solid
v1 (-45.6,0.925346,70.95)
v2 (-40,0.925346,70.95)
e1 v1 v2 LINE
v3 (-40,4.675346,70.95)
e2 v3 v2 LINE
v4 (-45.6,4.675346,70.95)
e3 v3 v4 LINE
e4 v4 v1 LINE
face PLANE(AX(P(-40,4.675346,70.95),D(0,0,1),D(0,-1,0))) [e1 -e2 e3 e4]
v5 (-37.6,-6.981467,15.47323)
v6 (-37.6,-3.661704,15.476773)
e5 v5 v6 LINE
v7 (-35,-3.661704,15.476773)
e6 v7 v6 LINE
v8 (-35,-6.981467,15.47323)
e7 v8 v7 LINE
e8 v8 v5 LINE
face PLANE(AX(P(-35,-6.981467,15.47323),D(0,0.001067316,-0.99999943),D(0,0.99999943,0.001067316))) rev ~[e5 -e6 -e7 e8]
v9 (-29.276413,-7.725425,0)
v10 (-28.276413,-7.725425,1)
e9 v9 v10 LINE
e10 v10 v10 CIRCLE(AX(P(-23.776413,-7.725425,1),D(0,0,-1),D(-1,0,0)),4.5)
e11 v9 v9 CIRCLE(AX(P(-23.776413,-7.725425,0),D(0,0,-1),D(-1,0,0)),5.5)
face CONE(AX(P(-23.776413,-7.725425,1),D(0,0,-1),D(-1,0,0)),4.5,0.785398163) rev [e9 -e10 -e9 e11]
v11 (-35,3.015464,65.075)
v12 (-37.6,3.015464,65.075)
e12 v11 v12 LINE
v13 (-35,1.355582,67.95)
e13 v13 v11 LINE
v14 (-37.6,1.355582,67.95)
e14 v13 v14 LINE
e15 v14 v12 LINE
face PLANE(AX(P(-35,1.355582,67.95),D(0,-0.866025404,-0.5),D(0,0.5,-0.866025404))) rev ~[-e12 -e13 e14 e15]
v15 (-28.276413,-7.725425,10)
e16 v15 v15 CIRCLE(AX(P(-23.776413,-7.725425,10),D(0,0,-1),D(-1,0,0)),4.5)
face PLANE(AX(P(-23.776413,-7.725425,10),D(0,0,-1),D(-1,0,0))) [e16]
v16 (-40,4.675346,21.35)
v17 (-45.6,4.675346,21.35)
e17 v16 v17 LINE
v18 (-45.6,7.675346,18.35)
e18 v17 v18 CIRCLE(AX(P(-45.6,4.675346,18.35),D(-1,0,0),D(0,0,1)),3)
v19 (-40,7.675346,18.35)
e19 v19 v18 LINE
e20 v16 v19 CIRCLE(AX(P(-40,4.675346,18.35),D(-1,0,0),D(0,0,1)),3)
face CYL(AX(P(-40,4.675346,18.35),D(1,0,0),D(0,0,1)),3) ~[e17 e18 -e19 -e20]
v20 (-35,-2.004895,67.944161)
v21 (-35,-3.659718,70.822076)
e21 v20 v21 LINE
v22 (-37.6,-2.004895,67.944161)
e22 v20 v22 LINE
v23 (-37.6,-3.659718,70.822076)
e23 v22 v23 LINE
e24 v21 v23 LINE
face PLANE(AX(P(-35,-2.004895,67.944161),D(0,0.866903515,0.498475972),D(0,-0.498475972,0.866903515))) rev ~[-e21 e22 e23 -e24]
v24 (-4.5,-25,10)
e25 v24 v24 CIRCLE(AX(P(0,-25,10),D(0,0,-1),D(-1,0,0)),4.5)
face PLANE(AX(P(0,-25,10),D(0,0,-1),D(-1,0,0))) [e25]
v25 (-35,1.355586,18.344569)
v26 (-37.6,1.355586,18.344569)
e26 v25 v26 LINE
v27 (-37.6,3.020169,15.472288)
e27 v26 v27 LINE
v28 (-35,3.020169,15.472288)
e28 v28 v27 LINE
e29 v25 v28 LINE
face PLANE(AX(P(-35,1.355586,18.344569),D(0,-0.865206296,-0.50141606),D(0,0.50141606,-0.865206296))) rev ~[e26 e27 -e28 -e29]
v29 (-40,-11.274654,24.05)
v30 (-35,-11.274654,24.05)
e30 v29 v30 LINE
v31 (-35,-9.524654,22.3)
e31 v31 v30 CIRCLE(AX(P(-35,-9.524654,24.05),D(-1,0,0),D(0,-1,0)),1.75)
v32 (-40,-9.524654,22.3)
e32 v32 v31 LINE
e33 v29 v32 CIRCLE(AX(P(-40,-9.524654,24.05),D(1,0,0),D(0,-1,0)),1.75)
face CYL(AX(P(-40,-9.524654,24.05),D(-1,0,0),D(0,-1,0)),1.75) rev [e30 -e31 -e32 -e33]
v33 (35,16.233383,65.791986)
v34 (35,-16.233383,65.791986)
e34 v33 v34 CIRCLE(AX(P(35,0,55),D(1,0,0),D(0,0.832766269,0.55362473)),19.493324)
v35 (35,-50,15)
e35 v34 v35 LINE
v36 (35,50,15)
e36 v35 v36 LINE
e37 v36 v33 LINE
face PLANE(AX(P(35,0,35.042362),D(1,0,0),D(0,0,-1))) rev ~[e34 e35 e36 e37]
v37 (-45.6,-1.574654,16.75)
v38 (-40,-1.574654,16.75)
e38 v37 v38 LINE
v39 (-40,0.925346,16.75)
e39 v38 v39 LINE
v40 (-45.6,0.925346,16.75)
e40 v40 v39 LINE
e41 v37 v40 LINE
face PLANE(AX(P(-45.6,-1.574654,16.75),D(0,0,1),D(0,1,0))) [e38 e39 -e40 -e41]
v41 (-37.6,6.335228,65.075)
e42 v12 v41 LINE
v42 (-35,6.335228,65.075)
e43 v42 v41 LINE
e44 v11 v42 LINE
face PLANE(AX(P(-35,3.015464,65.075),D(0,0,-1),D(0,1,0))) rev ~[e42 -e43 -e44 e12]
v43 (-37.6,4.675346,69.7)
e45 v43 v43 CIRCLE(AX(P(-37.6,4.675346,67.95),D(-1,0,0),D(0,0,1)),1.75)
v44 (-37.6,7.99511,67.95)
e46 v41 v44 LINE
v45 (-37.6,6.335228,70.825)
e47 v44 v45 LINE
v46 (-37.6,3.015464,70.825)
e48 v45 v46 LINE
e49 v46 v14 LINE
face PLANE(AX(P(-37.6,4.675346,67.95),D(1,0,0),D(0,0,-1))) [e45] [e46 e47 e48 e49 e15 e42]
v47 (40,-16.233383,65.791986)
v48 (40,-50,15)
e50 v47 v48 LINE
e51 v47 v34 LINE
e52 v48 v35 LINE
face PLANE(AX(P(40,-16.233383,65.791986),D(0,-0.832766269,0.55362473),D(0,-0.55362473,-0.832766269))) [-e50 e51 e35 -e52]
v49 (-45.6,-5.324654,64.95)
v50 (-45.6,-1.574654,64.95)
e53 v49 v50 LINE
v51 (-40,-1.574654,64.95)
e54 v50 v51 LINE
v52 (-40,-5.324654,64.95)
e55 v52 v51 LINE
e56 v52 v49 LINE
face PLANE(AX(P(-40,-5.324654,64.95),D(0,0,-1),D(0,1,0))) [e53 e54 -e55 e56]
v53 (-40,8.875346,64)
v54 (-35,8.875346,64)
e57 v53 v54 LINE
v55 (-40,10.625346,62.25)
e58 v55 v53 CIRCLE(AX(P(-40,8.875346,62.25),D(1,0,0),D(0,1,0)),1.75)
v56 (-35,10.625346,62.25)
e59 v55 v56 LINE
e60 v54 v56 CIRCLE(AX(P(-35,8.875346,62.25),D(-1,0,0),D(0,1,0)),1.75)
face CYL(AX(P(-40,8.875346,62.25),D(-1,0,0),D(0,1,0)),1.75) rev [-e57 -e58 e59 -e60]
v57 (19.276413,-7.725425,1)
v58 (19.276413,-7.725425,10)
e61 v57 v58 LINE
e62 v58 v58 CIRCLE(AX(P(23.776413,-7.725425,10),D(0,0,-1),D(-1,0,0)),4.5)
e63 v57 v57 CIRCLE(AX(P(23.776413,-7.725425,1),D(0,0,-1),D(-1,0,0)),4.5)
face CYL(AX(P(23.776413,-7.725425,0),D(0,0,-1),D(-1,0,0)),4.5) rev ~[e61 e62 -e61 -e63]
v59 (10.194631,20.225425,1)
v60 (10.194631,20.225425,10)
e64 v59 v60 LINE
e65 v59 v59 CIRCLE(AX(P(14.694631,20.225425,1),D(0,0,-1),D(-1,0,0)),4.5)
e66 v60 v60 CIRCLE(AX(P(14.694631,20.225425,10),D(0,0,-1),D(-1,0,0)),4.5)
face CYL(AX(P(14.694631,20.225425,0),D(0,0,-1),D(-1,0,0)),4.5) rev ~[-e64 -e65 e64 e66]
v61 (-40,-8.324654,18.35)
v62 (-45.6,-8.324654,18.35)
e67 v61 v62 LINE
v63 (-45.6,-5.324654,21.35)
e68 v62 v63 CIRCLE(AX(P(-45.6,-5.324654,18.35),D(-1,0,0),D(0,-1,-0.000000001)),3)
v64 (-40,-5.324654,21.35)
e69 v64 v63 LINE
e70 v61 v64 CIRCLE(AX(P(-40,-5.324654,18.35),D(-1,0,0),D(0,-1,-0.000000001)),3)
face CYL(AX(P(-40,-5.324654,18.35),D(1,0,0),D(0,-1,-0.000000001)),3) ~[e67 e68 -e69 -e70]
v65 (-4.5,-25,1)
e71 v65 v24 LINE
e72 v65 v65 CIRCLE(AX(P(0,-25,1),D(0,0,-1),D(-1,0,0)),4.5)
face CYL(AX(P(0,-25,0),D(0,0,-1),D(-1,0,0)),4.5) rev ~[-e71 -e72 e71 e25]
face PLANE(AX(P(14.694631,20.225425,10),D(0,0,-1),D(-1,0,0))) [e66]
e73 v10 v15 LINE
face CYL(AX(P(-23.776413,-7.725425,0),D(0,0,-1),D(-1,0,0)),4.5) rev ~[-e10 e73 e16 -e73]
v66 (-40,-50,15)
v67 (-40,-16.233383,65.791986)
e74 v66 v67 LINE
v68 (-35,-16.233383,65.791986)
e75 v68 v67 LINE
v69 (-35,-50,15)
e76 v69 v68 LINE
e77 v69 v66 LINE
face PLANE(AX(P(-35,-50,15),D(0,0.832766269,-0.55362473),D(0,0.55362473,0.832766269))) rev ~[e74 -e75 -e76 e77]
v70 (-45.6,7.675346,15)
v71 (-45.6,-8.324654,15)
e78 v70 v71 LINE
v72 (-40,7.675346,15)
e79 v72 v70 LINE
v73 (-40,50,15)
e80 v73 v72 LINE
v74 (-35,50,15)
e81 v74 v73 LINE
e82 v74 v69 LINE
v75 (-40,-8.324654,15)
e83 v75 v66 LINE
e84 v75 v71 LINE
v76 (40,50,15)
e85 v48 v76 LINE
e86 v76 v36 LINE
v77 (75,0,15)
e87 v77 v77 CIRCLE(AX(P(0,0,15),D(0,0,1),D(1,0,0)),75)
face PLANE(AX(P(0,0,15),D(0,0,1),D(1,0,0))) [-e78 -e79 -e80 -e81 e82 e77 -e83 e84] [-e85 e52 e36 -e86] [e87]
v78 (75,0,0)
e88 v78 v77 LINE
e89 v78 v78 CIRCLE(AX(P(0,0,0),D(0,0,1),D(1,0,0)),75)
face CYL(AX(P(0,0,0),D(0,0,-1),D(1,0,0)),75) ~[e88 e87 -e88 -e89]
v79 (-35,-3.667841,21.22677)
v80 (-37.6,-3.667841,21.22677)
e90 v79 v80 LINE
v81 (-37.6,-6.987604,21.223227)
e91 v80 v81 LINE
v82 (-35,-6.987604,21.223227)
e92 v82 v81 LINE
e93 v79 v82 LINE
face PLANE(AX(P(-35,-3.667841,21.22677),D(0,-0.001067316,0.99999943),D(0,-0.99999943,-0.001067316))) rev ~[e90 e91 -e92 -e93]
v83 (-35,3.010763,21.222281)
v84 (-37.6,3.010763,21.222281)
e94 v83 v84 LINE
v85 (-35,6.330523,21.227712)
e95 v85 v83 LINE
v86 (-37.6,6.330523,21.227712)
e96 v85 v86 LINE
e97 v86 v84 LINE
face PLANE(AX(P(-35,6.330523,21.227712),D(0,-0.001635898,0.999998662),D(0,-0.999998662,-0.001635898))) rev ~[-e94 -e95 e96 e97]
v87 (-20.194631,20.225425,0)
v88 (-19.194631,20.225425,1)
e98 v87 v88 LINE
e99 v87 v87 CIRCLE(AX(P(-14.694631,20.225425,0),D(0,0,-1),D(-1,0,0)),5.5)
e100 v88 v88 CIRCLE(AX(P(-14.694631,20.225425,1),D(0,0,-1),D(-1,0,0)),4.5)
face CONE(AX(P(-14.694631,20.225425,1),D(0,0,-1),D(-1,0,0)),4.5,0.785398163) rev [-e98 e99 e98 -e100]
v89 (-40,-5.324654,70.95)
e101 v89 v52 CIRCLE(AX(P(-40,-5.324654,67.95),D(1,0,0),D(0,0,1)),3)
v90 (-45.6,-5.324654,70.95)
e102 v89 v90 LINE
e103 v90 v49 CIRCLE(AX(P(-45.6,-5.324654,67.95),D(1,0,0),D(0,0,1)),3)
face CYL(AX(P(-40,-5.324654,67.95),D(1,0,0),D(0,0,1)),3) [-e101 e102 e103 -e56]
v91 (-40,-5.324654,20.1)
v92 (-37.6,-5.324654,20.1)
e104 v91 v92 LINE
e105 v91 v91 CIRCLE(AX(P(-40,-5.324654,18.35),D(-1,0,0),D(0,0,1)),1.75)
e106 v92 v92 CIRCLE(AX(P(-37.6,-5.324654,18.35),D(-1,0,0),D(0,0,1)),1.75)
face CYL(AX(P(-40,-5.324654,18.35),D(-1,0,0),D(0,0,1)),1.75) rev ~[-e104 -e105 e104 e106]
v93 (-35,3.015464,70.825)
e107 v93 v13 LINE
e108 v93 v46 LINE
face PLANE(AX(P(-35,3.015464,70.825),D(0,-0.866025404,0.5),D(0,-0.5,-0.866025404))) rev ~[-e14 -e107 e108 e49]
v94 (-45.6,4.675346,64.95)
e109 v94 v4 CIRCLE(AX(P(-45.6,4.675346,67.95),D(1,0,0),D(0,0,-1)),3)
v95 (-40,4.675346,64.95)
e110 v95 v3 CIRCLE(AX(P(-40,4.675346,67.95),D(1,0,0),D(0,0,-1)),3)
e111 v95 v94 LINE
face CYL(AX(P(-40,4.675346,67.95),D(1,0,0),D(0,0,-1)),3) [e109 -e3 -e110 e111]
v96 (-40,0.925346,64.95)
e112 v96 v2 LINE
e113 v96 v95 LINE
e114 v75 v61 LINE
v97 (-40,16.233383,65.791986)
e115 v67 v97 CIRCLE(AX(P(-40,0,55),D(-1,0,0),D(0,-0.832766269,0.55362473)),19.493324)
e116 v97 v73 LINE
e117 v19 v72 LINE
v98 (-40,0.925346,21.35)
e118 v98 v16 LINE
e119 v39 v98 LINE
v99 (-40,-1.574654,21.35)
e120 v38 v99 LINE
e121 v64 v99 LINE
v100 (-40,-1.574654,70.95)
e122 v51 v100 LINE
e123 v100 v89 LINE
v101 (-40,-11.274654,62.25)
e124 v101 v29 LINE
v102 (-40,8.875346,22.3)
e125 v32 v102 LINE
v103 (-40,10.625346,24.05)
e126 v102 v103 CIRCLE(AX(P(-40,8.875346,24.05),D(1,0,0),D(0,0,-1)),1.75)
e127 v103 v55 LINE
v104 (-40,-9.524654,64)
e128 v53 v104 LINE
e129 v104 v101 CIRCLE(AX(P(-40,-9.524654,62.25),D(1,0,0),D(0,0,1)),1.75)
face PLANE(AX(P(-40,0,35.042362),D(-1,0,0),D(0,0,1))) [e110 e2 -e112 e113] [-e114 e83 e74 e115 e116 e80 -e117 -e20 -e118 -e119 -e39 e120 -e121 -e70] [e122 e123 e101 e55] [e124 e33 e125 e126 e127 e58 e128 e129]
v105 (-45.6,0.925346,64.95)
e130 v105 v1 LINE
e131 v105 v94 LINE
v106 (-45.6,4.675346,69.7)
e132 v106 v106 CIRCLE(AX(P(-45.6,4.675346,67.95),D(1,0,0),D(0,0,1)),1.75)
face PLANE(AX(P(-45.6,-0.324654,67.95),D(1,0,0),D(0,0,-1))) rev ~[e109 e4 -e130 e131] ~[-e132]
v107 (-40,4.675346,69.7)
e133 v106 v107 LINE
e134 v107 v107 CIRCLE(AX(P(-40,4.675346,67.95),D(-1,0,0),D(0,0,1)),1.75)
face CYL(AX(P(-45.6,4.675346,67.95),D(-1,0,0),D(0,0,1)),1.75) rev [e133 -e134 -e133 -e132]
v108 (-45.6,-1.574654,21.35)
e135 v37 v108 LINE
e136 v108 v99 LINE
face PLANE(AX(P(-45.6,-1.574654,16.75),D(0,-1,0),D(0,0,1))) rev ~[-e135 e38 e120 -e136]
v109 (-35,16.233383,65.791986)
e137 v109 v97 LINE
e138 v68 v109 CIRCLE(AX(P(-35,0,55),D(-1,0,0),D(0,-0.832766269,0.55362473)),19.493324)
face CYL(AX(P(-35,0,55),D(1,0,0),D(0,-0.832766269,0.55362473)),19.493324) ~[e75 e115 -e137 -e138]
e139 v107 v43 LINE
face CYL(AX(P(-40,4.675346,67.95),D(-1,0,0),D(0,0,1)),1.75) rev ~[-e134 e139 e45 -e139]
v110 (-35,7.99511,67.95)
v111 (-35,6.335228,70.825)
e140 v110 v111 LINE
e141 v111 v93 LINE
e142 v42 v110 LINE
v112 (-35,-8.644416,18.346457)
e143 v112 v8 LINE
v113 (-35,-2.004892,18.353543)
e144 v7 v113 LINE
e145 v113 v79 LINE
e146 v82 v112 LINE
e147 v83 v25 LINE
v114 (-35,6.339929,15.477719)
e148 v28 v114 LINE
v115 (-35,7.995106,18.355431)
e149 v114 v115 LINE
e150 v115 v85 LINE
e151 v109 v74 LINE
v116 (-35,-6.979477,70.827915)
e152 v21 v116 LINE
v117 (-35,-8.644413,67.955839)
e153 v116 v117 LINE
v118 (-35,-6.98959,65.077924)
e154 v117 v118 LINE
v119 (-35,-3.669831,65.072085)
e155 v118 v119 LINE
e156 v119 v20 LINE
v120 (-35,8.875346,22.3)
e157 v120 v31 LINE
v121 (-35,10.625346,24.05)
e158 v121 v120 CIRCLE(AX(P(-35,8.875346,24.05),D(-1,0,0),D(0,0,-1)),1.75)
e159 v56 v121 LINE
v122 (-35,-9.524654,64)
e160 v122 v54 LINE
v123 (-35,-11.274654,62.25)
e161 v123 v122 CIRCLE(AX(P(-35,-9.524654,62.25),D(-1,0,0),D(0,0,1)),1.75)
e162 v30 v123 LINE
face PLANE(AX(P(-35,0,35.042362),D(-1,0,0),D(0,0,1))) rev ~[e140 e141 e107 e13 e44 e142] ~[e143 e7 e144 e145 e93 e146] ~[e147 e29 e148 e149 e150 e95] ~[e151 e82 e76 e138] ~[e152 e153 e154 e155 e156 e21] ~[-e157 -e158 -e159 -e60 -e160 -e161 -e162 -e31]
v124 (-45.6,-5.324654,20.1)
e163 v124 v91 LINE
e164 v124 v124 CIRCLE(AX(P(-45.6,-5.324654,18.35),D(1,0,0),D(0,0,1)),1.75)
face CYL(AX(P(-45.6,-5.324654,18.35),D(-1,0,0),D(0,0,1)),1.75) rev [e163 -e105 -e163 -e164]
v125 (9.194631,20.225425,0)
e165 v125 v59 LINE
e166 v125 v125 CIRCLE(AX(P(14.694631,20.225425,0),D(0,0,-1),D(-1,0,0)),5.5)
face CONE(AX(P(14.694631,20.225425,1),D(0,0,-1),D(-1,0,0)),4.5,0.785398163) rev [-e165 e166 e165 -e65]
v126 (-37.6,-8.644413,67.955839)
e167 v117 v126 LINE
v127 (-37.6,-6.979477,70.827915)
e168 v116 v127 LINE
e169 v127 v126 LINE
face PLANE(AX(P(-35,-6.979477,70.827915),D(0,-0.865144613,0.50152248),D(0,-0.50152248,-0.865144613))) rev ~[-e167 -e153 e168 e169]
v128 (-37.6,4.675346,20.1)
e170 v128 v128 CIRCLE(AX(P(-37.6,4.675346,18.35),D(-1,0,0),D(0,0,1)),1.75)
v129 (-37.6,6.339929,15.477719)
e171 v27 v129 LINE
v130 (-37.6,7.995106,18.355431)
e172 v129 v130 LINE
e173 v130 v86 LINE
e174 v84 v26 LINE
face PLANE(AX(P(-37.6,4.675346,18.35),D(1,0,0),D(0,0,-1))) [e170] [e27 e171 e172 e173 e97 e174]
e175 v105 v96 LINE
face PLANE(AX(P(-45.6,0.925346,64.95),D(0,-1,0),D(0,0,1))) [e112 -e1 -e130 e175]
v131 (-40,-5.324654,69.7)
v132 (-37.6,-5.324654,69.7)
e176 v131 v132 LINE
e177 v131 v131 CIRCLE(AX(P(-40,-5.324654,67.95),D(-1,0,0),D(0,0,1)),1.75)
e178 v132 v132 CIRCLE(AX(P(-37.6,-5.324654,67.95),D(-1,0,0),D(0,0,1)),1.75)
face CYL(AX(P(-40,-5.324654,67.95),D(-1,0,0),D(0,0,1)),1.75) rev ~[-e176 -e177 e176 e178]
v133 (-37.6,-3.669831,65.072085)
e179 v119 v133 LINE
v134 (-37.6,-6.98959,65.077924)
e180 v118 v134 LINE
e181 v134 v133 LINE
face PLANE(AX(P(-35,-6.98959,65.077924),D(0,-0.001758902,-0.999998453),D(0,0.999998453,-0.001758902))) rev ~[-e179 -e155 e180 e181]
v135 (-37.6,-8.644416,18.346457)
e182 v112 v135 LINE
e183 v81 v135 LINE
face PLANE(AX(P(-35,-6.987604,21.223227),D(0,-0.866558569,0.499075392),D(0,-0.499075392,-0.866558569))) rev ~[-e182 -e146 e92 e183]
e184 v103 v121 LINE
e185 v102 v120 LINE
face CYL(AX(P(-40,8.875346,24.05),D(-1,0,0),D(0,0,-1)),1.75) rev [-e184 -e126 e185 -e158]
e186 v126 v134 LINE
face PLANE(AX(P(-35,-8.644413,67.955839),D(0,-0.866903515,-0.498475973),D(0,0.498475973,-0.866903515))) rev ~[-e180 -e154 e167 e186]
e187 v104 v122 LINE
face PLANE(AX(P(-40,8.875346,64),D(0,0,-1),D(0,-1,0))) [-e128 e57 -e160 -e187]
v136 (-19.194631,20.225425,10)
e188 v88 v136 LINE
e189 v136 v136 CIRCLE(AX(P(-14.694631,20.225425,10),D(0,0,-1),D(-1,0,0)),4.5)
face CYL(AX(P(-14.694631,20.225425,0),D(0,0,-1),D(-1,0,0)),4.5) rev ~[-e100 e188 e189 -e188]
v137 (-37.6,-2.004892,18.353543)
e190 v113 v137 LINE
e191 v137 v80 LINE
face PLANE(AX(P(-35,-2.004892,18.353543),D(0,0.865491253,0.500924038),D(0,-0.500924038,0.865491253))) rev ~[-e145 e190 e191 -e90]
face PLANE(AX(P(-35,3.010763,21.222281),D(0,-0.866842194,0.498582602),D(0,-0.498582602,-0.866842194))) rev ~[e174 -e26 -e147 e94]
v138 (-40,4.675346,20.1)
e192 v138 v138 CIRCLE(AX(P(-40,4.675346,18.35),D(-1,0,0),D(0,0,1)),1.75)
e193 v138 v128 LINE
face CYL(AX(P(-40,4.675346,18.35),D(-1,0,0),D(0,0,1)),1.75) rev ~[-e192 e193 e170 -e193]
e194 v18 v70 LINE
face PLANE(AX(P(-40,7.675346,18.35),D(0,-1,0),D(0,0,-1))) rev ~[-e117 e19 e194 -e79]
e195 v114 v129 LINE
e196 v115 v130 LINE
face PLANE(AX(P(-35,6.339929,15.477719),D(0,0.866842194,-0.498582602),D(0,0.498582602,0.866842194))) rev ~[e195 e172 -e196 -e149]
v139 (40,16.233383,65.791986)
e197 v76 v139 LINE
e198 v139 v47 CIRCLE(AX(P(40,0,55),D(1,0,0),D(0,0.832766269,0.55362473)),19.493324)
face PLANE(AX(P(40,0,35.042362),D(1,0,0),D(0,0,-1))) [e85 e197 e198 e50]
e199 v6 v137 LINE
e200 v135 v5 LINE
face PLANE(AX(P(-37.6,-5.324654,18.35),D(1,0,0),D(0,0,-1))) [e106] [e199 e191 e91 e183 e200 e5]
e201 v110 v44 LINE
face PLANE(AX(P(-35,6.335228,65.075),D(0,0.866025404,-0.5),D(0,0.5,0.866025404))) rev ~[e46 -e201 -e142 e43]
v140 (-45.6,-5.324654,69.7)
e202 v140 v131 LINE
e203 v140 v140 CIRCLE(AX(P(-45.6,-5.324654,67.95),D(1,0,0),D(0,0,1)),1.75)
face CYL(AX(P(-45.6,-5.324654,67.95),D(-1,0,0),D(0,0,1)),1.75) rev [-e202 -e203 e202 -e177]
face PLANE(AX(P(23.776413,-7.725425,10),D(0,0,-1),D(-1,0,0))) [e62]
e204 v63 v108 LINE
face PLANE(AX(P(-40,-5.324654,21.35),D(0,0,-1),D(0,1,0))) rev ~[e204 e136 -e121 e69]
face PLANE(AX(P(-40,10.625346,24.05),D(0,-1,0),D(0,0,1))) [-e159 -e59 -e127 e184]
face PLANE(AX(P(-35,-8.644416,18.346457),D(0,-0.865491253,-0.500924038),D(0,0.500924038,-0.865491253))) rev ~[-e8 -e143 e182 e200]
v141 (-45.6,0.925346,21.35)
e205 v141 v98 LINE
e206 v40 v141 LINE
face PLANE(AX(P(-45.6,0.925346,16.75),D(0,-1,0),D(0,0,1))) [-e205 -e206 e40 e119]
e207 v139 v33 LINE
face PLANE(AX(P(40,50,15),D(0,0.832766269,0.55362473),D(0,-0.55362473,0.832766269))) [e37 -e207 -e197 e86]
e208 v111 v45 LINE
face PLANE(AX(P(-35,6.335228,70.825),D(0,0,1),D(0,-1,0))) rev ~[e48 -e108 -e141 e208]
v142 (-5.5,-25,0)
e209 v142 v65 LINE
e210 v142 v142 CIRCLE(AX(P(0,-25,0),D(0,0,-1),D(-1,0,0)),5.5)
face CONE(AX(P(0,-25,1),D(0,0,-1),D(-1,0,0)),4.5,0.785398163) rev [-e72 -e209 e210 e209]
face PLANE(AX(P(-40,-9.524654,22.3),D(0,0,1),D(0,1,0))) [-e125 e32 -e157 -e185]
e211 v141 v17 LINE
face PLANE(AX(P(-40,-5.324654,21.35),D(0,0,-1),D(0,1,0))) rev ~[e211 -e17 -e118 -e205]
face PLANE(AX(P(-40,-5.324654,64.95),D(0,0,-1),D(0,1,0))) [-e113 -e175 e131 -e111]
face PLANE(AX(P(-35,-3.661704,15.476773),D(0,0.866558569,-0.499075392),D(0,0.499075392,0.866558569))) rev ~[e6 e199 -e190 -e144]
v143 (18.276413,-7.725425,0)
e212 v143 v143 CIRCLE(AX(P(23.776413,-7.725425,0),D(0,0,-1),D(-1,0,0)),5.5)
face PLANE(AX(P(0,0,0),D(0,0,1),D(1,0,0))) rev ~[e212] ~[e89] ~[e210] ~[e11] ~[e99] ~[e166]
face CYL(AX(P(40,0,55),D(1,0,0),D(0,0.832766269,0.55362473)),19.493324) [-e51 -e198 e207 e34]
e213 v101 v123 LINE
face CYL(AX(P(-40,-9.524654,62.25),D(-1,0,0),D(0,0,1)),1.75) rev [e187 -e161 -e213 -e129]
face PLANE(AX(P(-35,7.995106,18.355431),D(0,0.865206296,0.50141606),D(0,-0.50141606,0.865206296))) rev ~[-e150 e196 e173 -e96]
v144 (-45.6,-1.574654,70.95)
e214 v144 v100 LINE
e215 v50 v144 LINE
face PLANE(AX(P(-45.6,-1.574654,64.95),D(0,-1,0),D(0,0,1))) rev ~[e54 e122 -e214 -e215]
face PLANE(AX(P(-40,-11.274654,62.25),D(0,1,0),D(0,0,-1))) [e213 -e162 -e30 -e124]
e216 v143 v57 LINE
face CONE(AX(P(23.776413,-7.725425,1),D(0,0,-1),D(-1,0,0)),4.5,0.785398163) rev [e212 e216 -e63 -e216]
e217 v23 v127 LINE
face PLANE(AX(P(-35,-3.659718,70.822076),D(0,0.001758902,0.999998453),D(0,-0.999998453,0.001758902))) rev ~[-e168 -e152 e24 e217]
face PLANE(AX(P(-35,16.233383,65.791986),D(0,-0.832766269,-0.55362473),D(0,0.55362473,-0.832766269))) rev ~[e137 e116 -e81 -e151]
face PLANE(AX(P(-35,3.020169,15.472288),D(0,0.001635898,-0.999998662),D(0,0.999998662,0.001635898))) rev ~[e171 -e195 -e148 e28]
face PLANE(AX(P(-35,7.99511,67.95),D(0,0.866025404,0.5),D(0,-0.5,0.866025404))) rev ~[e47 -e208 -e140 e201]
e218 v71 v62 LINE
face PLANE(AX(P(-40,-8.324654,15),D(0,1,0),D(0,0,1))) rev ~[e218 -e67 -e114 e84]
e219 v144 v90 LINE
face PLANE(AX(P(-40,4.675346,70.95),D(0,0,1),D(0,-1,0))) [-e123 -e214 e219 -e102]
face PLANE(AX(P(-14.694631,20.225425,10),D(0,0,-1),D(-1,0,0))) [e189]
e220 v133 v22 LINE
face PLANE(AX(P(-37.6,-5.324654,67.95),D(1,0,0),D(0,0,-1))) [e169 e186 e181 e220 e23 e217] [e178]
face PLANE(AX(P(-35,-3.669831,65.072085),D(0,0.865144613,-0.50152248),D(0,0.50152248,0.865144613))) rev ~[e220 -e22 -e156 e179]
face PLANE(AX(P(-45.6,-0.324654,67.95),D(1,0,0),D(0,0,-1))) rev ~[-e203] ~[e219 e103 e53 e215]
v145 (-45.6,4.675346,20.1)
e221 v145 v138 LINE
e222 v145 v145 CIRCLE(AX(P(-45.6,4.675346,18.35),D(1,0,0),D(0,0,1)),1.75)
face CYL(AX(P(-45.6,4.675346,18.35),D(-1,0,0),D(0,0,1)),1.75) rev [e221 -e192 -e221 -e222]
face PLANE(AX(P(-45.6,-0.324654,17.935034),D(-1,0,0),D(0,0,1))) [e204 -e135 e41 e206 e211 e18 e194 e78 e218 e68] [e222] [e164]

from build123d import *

# Parameters (mm, degrees)
SKETCH1_R           = 75
BASE_PLATE_DEPTH    = 15
SKETCH2_R           = 4.5
DRIVE_HOLES_DEPTH   = 10
CHAMFER1_SIZE       = 1
BASE_START          = 40
BASE_FIN_DEPTH      = 5
BASE_START_2        = 70
BASE_FIN_2_DEPTH    = 5
CUT_EXTRUDE1_REACH  = 158.203
CUT_EXTRUDE2_REACH  = 158.203
SKETCH7_R           = 1.75
BOSS_EXTRUDE1_DEPTH = 5.6
CUT_EXTRUDE3_START  = -5.6
SKETCH9_R           = 1.75
CUT_EXTRUDE3_DEPTH  = 5.6
SKETCH10_W          = 4.6
SKETCH10_H          = 2.5
SKETCH10_W_2        = 6
CUT_EXTRUDE4_DEPTH  = 5.6
CUT_EXTRUDE5_DEPTH  = 2.6


with BuildPart() as part:
    # Sketch1 → Base Plate (new body)
    with BuildSketch(Plane.XY):
        Circle(SKETCH1_R)
    extrude(amount=BASE_PLATE_DEPTH)

    # Sketch2 → Drive Holes (cut)
    with BuildSketch(Plane(origin=(0, 0, 0), x_dir=(-1, 0, 0), z_dir=(0, 0, -1))):
        with Locations((0, -25)):
            Circle(SKETCH2_R)
        with Locations((-23.776412907, -7.725424859)):
            Circle(SKETCH2_R)
        with Locations((-14.694631307, 20.225424859)):
            Circle(SKETCH2_R)
        with Locations((14.694631307, 20.225424859)):
            Circle(SKETCH2_R)
        with Locations((23.776412907, -7.725424859)):
            Circle(SKETCH2_R)
    extrude(amount=-DRIVE_HOLES_DEPTH, mode=Mode.SUBTRACT)

    # Chamfer1
    chamfer1_edges = [part.edges().sort_by_distance(p)[0] for p in [
        (28.276412907, -7.725424859, 0),
        (19.194631307, 20.225424859, 0),
        (-10.194631307, 20.225424859, 0),
        (-19.276412907, -7.725424859, 0),
        (4.5, -25, 0),
    ]]
    chamfer(chamfer1_edges, length=CHAMFER1_SIZE)

    # Sketch4 → Base Fin (add)
    with BuildSketch(Plane(origin=(0, 0, 0), x_dir=(0, 0, -1), z_dir=(1, 0, 0)).offset(BASE_START)):
        with BuildLine():
            Line((-15, 50), (-65.791986374, 16.233382914))
            ThreePointArc((-65.791986374, 16.233382914), (-74.493324261, 0), (-65.791986374, -16.233382914))
            Line((-65.791986374, -16.233382914), (-15, -50))
            Line((-15, -50), (-15, 50))
        make_face()
    extrude(amount=-BASE_FIN_DEPTH)

    # Sketch5 → Base Fin 2 (add)
    with BuildSketch(Plane.ZY.offset(-35).offset(BASE_START_2)):
        with BuildLine():
            Line((15, 50), (15, -50))
            Line((15, -50), (65.791986374, -16.233382914))
            ThreePointArc((65.791986374, -16.233382914), (74.493324261, 0), (65.791986374, 16.233382914))
            Line((65.791986374, 16.233382914), (15, 50))
        make_face()
    extrude(amount=BASE_FIN_2_DEPTH)

    # Sketch6 → Cut-Extrude1 (cut, up to next)
    with BuildSketch(Plane.ZY.offset(40), mode=Mode.PRIVATE) as cut_extrude1_sk1:
        with BuildLine():
            Line((64, 8.875345998), (64, -9.524654002))
            ThreePointArc((64, -9.524654002), (63.487436867, -10.762090869), (62.25, -11.274654002))
            Line((62.25, -11.274654002), (24.05, -11.274654002))
            ThreePointArc((24.05, -11.274654002), (22.812563133, -10.762090869), (22.3, -9.524654002))
            Line((22.3, -9.524654002), (22.3, 8.875345998))
            ThreePointArc((22.3, 8.875345998), (22.812563133, 10.112782865), (24.05, 10.625345998))
            Line((24.05, 10.625345998), (62.25, 10.625345998))
            ThreePointArc((62.25, 10.625345998), (63.487436867, 10.112782865), (64, 8.875345998))
        make_face()
    cut_extrude1_tool1 = extrude(cut_extrude1_sk1.sketch, amount=-CUT_EXTRUDE1_REACH, mode=Mode.PRIVATE) & part.part
    add(cut_extrude1_tool1.solids().sort_by_distance((-40, -0.324654, 43.15))[0], mode=Mode.SUBTRACT)

    # Sketch7 → Cut-Extrude2 (cut, up to next)
    with BuildSketch(Plane.ZY.offset(40), mode=Mode.PRIVATE) as cut_extrude2_sk1:
        with Locations((18.35, 4.675345998)):
            Circle(SKETCH7_R)
    cut_extrude2_tool1 = extrude(cut_extrude2_sk1.sketch, amount=-CUT_EXTRUDE2_REACH, mode=Mode.PRIVATE) & part.part
    # Sketch7 → Cut-Extrude2 (cut, up to next)
    with BuildSketch(Plane.ZY.offset(40), mode=Mode.PRIVATE) as cut_extrude2_sk2:
        with Locations((18.35, -5.324654002)):
            Circle(SKETCH7_R)
    cut_extrude2_tool2 = extrude(cut_extrude2_sk2.sketch, amount=-CUT_EXTRUDE2_REACH, mode=Mode.PRIVATE) & part.part
    # Sketch7 → Cut-Extrude2 (cut, up to next)
    with BuildSketch(Plane.ZY.offset(40), mode=Mode.PRIVATE) as cut_extrude2_sk3:
        with Locations((67.95, -5.324654002)):
            Circle(SKETCH7_R)
    cut_extrude2_tool3 = extrude(cut_extrude2_sk3.sketch, amount=-CUT_EXTRUDE2_REACH, mode=Mode.PRIVATE) & part.part
    # Sketch7 → Cut-Extrude2 (cut, up to next)
    with BuildSketch(Plane.ZY.offset(40), mode=Mode.PRIVATE) as cut_extrude2_sk4:
        with Locations((67.95, 4.675345998)):
            Circle(SKETCH7_R)
    cut_extrude2_tool4 = extrude(cut_extrude2_sk4.sketch, amount=-CUT_EXTRUDE2_REACH, mode=Mode.PRIVATE) & part.part
    add(cut_extrude2_tool1.solids().sort_by_distance((-40, 4.675346, 18.35))[0], mode=Mode.SUBTRACT)
    add(cut_extrude2_tool2.solids().sort_by_distance((-40, -5.324654, 18.35))[0], mode=Mode.SUBTRACT)
    add(cut_extrude2_tool3.solids().sort_by_distance((-40, -5.324654, 67.95))[0], mode=Mode.SUBTRACT)
    add(cut_extrude2_tool4.solids().sort_by_distance((-40, 4.675346, 67.95))[0], mode=Mode.SUBTRACT)

    # Sketch8 → Boss-Extrude1 (add)
    with BuildSketch(Plane.ZY.offset(40)):
        with BuildLine():
            Line((70.95, 4.675345998), (70.95, -5.324654002))
            ThreePointArc((70.95, -5.324654002), (67.95, -8.324654002), (64.95, -5.324654002))
            Line((64.95, -5.324654002), (64.95, 4.675345998))
            ThreePointArc((64.95, 4.675345998), (67.95, 7.675345998), (70.95, 4.675345998))
        make_face()
        with BuildLine():
            Line((15, 7.675345998), (15, 0))
            Line((15, 0), (15, -8.324654002))
            Line((15, -8.324654002), (18.35, -8.324654002))
            ThreePointArc((18.35, -8.324654002), (20.471320344, -7.445974346), (21.35, -5.324654002))
            Line((21.35, -5.324654002), (21.35, 4.675345998))
            ThreePointArc((21.35, 4.675345998), (20.471320344, 6.796666341), (18.35, 7.675345998))
            Line((18.35, 7.675345998), (15, 7.675345998))
        make_face()
    extrude(amount=BOSS_EXTRUDE1_DEPTH)

    # Sketch9 → Cut-Extrude3 (cut)
    with BuildSketch(Plane(origin=(-40, 0, 0), x_dir=(0, 0, -1), z_dir=(1, 0, 0)).offset(CUT_EXTRUDE3_START)):
        with Locations(Location((-67.95, -5.324654002, 0), (0, 0, 180))):
            Circle(SKETCH9_R)
        with Locations(Location((-67.95, 4.675345998, 0), (0, 0, 180))):
            Circle(SKETCH9_R)
        with Locations(Location((-18.35, -5.324654002, 0), (0, 0, 180))):
            Circle(SKETCH9_R)
        with Locations(Location((-18.35, 4.675345998, 0), (0, 0, 180))):
            Circle(SKETCH9_R)
    extrude(amount=CUT_EXTRUDE3_DEPTH, mode=Mode.SUBTRACT)

    # Sketch10 → Cut-Extrude4 (cut)
    with BuildSketch(Plane.ZY.offset(45.6)):
        with Locations((19.05, -0.324654002)):
            Rectangle(SKETCH10_W, SKETCH10_H)
        with Locations((67.95, -0.324654002)):
            Rectangle(SKETCH10_W_2, SKETCH10_H)
    extrude(amount=-CUT_EXTRUDE4_DEPTH, mode=Mode.SUBTRACT)

    # Sketch11 → Cut-Extrude5 (cut)
    with BuildSketch(Plane(origin=(-35, 0, 0), x_dir=(0, 0, -1), z_dir=(1, 0, 0))):
        Polygon((-67.94416086, -2.00489509), (-70.822075983, -3.659717702), (-70.827915123, -6.979476615), (-67.95583914, -8.644412915), (-65.077924017, -6.989590302), (-65.072084877, -3.66983139), align=None)
        Polygon((-67.95, 7.995110046), (-70.825, 6.335228022), (-70.825, 3.015463974), (-67.95, 1.35558195), (-65.075, 3.015463974), (-65.075, 6.335228022), align=None)
        Polygon((-18.353543237, -2.004891845), (-21.226769981, -3.667841457), (-21.223226744, -6.987603614), (-18.346456763, -8.644416159), (-15.473230019, -6.981466547), (-15.476773256, -3.66170439), align=None)
        Polygon((-18.355430794, 7.995105604), (-21.22771155, 6.330522595), (-21.222280756, 3.010762989), (-18.344569206, 1.355586392), (-15.47228845, 3.020169401), (-15.477719244, 6.339929006), align=None)
    extrude(amount=-CUT_EXTRUDE5_DEPTH, mode=Mode.SUBTRACT)


solid = part.part
